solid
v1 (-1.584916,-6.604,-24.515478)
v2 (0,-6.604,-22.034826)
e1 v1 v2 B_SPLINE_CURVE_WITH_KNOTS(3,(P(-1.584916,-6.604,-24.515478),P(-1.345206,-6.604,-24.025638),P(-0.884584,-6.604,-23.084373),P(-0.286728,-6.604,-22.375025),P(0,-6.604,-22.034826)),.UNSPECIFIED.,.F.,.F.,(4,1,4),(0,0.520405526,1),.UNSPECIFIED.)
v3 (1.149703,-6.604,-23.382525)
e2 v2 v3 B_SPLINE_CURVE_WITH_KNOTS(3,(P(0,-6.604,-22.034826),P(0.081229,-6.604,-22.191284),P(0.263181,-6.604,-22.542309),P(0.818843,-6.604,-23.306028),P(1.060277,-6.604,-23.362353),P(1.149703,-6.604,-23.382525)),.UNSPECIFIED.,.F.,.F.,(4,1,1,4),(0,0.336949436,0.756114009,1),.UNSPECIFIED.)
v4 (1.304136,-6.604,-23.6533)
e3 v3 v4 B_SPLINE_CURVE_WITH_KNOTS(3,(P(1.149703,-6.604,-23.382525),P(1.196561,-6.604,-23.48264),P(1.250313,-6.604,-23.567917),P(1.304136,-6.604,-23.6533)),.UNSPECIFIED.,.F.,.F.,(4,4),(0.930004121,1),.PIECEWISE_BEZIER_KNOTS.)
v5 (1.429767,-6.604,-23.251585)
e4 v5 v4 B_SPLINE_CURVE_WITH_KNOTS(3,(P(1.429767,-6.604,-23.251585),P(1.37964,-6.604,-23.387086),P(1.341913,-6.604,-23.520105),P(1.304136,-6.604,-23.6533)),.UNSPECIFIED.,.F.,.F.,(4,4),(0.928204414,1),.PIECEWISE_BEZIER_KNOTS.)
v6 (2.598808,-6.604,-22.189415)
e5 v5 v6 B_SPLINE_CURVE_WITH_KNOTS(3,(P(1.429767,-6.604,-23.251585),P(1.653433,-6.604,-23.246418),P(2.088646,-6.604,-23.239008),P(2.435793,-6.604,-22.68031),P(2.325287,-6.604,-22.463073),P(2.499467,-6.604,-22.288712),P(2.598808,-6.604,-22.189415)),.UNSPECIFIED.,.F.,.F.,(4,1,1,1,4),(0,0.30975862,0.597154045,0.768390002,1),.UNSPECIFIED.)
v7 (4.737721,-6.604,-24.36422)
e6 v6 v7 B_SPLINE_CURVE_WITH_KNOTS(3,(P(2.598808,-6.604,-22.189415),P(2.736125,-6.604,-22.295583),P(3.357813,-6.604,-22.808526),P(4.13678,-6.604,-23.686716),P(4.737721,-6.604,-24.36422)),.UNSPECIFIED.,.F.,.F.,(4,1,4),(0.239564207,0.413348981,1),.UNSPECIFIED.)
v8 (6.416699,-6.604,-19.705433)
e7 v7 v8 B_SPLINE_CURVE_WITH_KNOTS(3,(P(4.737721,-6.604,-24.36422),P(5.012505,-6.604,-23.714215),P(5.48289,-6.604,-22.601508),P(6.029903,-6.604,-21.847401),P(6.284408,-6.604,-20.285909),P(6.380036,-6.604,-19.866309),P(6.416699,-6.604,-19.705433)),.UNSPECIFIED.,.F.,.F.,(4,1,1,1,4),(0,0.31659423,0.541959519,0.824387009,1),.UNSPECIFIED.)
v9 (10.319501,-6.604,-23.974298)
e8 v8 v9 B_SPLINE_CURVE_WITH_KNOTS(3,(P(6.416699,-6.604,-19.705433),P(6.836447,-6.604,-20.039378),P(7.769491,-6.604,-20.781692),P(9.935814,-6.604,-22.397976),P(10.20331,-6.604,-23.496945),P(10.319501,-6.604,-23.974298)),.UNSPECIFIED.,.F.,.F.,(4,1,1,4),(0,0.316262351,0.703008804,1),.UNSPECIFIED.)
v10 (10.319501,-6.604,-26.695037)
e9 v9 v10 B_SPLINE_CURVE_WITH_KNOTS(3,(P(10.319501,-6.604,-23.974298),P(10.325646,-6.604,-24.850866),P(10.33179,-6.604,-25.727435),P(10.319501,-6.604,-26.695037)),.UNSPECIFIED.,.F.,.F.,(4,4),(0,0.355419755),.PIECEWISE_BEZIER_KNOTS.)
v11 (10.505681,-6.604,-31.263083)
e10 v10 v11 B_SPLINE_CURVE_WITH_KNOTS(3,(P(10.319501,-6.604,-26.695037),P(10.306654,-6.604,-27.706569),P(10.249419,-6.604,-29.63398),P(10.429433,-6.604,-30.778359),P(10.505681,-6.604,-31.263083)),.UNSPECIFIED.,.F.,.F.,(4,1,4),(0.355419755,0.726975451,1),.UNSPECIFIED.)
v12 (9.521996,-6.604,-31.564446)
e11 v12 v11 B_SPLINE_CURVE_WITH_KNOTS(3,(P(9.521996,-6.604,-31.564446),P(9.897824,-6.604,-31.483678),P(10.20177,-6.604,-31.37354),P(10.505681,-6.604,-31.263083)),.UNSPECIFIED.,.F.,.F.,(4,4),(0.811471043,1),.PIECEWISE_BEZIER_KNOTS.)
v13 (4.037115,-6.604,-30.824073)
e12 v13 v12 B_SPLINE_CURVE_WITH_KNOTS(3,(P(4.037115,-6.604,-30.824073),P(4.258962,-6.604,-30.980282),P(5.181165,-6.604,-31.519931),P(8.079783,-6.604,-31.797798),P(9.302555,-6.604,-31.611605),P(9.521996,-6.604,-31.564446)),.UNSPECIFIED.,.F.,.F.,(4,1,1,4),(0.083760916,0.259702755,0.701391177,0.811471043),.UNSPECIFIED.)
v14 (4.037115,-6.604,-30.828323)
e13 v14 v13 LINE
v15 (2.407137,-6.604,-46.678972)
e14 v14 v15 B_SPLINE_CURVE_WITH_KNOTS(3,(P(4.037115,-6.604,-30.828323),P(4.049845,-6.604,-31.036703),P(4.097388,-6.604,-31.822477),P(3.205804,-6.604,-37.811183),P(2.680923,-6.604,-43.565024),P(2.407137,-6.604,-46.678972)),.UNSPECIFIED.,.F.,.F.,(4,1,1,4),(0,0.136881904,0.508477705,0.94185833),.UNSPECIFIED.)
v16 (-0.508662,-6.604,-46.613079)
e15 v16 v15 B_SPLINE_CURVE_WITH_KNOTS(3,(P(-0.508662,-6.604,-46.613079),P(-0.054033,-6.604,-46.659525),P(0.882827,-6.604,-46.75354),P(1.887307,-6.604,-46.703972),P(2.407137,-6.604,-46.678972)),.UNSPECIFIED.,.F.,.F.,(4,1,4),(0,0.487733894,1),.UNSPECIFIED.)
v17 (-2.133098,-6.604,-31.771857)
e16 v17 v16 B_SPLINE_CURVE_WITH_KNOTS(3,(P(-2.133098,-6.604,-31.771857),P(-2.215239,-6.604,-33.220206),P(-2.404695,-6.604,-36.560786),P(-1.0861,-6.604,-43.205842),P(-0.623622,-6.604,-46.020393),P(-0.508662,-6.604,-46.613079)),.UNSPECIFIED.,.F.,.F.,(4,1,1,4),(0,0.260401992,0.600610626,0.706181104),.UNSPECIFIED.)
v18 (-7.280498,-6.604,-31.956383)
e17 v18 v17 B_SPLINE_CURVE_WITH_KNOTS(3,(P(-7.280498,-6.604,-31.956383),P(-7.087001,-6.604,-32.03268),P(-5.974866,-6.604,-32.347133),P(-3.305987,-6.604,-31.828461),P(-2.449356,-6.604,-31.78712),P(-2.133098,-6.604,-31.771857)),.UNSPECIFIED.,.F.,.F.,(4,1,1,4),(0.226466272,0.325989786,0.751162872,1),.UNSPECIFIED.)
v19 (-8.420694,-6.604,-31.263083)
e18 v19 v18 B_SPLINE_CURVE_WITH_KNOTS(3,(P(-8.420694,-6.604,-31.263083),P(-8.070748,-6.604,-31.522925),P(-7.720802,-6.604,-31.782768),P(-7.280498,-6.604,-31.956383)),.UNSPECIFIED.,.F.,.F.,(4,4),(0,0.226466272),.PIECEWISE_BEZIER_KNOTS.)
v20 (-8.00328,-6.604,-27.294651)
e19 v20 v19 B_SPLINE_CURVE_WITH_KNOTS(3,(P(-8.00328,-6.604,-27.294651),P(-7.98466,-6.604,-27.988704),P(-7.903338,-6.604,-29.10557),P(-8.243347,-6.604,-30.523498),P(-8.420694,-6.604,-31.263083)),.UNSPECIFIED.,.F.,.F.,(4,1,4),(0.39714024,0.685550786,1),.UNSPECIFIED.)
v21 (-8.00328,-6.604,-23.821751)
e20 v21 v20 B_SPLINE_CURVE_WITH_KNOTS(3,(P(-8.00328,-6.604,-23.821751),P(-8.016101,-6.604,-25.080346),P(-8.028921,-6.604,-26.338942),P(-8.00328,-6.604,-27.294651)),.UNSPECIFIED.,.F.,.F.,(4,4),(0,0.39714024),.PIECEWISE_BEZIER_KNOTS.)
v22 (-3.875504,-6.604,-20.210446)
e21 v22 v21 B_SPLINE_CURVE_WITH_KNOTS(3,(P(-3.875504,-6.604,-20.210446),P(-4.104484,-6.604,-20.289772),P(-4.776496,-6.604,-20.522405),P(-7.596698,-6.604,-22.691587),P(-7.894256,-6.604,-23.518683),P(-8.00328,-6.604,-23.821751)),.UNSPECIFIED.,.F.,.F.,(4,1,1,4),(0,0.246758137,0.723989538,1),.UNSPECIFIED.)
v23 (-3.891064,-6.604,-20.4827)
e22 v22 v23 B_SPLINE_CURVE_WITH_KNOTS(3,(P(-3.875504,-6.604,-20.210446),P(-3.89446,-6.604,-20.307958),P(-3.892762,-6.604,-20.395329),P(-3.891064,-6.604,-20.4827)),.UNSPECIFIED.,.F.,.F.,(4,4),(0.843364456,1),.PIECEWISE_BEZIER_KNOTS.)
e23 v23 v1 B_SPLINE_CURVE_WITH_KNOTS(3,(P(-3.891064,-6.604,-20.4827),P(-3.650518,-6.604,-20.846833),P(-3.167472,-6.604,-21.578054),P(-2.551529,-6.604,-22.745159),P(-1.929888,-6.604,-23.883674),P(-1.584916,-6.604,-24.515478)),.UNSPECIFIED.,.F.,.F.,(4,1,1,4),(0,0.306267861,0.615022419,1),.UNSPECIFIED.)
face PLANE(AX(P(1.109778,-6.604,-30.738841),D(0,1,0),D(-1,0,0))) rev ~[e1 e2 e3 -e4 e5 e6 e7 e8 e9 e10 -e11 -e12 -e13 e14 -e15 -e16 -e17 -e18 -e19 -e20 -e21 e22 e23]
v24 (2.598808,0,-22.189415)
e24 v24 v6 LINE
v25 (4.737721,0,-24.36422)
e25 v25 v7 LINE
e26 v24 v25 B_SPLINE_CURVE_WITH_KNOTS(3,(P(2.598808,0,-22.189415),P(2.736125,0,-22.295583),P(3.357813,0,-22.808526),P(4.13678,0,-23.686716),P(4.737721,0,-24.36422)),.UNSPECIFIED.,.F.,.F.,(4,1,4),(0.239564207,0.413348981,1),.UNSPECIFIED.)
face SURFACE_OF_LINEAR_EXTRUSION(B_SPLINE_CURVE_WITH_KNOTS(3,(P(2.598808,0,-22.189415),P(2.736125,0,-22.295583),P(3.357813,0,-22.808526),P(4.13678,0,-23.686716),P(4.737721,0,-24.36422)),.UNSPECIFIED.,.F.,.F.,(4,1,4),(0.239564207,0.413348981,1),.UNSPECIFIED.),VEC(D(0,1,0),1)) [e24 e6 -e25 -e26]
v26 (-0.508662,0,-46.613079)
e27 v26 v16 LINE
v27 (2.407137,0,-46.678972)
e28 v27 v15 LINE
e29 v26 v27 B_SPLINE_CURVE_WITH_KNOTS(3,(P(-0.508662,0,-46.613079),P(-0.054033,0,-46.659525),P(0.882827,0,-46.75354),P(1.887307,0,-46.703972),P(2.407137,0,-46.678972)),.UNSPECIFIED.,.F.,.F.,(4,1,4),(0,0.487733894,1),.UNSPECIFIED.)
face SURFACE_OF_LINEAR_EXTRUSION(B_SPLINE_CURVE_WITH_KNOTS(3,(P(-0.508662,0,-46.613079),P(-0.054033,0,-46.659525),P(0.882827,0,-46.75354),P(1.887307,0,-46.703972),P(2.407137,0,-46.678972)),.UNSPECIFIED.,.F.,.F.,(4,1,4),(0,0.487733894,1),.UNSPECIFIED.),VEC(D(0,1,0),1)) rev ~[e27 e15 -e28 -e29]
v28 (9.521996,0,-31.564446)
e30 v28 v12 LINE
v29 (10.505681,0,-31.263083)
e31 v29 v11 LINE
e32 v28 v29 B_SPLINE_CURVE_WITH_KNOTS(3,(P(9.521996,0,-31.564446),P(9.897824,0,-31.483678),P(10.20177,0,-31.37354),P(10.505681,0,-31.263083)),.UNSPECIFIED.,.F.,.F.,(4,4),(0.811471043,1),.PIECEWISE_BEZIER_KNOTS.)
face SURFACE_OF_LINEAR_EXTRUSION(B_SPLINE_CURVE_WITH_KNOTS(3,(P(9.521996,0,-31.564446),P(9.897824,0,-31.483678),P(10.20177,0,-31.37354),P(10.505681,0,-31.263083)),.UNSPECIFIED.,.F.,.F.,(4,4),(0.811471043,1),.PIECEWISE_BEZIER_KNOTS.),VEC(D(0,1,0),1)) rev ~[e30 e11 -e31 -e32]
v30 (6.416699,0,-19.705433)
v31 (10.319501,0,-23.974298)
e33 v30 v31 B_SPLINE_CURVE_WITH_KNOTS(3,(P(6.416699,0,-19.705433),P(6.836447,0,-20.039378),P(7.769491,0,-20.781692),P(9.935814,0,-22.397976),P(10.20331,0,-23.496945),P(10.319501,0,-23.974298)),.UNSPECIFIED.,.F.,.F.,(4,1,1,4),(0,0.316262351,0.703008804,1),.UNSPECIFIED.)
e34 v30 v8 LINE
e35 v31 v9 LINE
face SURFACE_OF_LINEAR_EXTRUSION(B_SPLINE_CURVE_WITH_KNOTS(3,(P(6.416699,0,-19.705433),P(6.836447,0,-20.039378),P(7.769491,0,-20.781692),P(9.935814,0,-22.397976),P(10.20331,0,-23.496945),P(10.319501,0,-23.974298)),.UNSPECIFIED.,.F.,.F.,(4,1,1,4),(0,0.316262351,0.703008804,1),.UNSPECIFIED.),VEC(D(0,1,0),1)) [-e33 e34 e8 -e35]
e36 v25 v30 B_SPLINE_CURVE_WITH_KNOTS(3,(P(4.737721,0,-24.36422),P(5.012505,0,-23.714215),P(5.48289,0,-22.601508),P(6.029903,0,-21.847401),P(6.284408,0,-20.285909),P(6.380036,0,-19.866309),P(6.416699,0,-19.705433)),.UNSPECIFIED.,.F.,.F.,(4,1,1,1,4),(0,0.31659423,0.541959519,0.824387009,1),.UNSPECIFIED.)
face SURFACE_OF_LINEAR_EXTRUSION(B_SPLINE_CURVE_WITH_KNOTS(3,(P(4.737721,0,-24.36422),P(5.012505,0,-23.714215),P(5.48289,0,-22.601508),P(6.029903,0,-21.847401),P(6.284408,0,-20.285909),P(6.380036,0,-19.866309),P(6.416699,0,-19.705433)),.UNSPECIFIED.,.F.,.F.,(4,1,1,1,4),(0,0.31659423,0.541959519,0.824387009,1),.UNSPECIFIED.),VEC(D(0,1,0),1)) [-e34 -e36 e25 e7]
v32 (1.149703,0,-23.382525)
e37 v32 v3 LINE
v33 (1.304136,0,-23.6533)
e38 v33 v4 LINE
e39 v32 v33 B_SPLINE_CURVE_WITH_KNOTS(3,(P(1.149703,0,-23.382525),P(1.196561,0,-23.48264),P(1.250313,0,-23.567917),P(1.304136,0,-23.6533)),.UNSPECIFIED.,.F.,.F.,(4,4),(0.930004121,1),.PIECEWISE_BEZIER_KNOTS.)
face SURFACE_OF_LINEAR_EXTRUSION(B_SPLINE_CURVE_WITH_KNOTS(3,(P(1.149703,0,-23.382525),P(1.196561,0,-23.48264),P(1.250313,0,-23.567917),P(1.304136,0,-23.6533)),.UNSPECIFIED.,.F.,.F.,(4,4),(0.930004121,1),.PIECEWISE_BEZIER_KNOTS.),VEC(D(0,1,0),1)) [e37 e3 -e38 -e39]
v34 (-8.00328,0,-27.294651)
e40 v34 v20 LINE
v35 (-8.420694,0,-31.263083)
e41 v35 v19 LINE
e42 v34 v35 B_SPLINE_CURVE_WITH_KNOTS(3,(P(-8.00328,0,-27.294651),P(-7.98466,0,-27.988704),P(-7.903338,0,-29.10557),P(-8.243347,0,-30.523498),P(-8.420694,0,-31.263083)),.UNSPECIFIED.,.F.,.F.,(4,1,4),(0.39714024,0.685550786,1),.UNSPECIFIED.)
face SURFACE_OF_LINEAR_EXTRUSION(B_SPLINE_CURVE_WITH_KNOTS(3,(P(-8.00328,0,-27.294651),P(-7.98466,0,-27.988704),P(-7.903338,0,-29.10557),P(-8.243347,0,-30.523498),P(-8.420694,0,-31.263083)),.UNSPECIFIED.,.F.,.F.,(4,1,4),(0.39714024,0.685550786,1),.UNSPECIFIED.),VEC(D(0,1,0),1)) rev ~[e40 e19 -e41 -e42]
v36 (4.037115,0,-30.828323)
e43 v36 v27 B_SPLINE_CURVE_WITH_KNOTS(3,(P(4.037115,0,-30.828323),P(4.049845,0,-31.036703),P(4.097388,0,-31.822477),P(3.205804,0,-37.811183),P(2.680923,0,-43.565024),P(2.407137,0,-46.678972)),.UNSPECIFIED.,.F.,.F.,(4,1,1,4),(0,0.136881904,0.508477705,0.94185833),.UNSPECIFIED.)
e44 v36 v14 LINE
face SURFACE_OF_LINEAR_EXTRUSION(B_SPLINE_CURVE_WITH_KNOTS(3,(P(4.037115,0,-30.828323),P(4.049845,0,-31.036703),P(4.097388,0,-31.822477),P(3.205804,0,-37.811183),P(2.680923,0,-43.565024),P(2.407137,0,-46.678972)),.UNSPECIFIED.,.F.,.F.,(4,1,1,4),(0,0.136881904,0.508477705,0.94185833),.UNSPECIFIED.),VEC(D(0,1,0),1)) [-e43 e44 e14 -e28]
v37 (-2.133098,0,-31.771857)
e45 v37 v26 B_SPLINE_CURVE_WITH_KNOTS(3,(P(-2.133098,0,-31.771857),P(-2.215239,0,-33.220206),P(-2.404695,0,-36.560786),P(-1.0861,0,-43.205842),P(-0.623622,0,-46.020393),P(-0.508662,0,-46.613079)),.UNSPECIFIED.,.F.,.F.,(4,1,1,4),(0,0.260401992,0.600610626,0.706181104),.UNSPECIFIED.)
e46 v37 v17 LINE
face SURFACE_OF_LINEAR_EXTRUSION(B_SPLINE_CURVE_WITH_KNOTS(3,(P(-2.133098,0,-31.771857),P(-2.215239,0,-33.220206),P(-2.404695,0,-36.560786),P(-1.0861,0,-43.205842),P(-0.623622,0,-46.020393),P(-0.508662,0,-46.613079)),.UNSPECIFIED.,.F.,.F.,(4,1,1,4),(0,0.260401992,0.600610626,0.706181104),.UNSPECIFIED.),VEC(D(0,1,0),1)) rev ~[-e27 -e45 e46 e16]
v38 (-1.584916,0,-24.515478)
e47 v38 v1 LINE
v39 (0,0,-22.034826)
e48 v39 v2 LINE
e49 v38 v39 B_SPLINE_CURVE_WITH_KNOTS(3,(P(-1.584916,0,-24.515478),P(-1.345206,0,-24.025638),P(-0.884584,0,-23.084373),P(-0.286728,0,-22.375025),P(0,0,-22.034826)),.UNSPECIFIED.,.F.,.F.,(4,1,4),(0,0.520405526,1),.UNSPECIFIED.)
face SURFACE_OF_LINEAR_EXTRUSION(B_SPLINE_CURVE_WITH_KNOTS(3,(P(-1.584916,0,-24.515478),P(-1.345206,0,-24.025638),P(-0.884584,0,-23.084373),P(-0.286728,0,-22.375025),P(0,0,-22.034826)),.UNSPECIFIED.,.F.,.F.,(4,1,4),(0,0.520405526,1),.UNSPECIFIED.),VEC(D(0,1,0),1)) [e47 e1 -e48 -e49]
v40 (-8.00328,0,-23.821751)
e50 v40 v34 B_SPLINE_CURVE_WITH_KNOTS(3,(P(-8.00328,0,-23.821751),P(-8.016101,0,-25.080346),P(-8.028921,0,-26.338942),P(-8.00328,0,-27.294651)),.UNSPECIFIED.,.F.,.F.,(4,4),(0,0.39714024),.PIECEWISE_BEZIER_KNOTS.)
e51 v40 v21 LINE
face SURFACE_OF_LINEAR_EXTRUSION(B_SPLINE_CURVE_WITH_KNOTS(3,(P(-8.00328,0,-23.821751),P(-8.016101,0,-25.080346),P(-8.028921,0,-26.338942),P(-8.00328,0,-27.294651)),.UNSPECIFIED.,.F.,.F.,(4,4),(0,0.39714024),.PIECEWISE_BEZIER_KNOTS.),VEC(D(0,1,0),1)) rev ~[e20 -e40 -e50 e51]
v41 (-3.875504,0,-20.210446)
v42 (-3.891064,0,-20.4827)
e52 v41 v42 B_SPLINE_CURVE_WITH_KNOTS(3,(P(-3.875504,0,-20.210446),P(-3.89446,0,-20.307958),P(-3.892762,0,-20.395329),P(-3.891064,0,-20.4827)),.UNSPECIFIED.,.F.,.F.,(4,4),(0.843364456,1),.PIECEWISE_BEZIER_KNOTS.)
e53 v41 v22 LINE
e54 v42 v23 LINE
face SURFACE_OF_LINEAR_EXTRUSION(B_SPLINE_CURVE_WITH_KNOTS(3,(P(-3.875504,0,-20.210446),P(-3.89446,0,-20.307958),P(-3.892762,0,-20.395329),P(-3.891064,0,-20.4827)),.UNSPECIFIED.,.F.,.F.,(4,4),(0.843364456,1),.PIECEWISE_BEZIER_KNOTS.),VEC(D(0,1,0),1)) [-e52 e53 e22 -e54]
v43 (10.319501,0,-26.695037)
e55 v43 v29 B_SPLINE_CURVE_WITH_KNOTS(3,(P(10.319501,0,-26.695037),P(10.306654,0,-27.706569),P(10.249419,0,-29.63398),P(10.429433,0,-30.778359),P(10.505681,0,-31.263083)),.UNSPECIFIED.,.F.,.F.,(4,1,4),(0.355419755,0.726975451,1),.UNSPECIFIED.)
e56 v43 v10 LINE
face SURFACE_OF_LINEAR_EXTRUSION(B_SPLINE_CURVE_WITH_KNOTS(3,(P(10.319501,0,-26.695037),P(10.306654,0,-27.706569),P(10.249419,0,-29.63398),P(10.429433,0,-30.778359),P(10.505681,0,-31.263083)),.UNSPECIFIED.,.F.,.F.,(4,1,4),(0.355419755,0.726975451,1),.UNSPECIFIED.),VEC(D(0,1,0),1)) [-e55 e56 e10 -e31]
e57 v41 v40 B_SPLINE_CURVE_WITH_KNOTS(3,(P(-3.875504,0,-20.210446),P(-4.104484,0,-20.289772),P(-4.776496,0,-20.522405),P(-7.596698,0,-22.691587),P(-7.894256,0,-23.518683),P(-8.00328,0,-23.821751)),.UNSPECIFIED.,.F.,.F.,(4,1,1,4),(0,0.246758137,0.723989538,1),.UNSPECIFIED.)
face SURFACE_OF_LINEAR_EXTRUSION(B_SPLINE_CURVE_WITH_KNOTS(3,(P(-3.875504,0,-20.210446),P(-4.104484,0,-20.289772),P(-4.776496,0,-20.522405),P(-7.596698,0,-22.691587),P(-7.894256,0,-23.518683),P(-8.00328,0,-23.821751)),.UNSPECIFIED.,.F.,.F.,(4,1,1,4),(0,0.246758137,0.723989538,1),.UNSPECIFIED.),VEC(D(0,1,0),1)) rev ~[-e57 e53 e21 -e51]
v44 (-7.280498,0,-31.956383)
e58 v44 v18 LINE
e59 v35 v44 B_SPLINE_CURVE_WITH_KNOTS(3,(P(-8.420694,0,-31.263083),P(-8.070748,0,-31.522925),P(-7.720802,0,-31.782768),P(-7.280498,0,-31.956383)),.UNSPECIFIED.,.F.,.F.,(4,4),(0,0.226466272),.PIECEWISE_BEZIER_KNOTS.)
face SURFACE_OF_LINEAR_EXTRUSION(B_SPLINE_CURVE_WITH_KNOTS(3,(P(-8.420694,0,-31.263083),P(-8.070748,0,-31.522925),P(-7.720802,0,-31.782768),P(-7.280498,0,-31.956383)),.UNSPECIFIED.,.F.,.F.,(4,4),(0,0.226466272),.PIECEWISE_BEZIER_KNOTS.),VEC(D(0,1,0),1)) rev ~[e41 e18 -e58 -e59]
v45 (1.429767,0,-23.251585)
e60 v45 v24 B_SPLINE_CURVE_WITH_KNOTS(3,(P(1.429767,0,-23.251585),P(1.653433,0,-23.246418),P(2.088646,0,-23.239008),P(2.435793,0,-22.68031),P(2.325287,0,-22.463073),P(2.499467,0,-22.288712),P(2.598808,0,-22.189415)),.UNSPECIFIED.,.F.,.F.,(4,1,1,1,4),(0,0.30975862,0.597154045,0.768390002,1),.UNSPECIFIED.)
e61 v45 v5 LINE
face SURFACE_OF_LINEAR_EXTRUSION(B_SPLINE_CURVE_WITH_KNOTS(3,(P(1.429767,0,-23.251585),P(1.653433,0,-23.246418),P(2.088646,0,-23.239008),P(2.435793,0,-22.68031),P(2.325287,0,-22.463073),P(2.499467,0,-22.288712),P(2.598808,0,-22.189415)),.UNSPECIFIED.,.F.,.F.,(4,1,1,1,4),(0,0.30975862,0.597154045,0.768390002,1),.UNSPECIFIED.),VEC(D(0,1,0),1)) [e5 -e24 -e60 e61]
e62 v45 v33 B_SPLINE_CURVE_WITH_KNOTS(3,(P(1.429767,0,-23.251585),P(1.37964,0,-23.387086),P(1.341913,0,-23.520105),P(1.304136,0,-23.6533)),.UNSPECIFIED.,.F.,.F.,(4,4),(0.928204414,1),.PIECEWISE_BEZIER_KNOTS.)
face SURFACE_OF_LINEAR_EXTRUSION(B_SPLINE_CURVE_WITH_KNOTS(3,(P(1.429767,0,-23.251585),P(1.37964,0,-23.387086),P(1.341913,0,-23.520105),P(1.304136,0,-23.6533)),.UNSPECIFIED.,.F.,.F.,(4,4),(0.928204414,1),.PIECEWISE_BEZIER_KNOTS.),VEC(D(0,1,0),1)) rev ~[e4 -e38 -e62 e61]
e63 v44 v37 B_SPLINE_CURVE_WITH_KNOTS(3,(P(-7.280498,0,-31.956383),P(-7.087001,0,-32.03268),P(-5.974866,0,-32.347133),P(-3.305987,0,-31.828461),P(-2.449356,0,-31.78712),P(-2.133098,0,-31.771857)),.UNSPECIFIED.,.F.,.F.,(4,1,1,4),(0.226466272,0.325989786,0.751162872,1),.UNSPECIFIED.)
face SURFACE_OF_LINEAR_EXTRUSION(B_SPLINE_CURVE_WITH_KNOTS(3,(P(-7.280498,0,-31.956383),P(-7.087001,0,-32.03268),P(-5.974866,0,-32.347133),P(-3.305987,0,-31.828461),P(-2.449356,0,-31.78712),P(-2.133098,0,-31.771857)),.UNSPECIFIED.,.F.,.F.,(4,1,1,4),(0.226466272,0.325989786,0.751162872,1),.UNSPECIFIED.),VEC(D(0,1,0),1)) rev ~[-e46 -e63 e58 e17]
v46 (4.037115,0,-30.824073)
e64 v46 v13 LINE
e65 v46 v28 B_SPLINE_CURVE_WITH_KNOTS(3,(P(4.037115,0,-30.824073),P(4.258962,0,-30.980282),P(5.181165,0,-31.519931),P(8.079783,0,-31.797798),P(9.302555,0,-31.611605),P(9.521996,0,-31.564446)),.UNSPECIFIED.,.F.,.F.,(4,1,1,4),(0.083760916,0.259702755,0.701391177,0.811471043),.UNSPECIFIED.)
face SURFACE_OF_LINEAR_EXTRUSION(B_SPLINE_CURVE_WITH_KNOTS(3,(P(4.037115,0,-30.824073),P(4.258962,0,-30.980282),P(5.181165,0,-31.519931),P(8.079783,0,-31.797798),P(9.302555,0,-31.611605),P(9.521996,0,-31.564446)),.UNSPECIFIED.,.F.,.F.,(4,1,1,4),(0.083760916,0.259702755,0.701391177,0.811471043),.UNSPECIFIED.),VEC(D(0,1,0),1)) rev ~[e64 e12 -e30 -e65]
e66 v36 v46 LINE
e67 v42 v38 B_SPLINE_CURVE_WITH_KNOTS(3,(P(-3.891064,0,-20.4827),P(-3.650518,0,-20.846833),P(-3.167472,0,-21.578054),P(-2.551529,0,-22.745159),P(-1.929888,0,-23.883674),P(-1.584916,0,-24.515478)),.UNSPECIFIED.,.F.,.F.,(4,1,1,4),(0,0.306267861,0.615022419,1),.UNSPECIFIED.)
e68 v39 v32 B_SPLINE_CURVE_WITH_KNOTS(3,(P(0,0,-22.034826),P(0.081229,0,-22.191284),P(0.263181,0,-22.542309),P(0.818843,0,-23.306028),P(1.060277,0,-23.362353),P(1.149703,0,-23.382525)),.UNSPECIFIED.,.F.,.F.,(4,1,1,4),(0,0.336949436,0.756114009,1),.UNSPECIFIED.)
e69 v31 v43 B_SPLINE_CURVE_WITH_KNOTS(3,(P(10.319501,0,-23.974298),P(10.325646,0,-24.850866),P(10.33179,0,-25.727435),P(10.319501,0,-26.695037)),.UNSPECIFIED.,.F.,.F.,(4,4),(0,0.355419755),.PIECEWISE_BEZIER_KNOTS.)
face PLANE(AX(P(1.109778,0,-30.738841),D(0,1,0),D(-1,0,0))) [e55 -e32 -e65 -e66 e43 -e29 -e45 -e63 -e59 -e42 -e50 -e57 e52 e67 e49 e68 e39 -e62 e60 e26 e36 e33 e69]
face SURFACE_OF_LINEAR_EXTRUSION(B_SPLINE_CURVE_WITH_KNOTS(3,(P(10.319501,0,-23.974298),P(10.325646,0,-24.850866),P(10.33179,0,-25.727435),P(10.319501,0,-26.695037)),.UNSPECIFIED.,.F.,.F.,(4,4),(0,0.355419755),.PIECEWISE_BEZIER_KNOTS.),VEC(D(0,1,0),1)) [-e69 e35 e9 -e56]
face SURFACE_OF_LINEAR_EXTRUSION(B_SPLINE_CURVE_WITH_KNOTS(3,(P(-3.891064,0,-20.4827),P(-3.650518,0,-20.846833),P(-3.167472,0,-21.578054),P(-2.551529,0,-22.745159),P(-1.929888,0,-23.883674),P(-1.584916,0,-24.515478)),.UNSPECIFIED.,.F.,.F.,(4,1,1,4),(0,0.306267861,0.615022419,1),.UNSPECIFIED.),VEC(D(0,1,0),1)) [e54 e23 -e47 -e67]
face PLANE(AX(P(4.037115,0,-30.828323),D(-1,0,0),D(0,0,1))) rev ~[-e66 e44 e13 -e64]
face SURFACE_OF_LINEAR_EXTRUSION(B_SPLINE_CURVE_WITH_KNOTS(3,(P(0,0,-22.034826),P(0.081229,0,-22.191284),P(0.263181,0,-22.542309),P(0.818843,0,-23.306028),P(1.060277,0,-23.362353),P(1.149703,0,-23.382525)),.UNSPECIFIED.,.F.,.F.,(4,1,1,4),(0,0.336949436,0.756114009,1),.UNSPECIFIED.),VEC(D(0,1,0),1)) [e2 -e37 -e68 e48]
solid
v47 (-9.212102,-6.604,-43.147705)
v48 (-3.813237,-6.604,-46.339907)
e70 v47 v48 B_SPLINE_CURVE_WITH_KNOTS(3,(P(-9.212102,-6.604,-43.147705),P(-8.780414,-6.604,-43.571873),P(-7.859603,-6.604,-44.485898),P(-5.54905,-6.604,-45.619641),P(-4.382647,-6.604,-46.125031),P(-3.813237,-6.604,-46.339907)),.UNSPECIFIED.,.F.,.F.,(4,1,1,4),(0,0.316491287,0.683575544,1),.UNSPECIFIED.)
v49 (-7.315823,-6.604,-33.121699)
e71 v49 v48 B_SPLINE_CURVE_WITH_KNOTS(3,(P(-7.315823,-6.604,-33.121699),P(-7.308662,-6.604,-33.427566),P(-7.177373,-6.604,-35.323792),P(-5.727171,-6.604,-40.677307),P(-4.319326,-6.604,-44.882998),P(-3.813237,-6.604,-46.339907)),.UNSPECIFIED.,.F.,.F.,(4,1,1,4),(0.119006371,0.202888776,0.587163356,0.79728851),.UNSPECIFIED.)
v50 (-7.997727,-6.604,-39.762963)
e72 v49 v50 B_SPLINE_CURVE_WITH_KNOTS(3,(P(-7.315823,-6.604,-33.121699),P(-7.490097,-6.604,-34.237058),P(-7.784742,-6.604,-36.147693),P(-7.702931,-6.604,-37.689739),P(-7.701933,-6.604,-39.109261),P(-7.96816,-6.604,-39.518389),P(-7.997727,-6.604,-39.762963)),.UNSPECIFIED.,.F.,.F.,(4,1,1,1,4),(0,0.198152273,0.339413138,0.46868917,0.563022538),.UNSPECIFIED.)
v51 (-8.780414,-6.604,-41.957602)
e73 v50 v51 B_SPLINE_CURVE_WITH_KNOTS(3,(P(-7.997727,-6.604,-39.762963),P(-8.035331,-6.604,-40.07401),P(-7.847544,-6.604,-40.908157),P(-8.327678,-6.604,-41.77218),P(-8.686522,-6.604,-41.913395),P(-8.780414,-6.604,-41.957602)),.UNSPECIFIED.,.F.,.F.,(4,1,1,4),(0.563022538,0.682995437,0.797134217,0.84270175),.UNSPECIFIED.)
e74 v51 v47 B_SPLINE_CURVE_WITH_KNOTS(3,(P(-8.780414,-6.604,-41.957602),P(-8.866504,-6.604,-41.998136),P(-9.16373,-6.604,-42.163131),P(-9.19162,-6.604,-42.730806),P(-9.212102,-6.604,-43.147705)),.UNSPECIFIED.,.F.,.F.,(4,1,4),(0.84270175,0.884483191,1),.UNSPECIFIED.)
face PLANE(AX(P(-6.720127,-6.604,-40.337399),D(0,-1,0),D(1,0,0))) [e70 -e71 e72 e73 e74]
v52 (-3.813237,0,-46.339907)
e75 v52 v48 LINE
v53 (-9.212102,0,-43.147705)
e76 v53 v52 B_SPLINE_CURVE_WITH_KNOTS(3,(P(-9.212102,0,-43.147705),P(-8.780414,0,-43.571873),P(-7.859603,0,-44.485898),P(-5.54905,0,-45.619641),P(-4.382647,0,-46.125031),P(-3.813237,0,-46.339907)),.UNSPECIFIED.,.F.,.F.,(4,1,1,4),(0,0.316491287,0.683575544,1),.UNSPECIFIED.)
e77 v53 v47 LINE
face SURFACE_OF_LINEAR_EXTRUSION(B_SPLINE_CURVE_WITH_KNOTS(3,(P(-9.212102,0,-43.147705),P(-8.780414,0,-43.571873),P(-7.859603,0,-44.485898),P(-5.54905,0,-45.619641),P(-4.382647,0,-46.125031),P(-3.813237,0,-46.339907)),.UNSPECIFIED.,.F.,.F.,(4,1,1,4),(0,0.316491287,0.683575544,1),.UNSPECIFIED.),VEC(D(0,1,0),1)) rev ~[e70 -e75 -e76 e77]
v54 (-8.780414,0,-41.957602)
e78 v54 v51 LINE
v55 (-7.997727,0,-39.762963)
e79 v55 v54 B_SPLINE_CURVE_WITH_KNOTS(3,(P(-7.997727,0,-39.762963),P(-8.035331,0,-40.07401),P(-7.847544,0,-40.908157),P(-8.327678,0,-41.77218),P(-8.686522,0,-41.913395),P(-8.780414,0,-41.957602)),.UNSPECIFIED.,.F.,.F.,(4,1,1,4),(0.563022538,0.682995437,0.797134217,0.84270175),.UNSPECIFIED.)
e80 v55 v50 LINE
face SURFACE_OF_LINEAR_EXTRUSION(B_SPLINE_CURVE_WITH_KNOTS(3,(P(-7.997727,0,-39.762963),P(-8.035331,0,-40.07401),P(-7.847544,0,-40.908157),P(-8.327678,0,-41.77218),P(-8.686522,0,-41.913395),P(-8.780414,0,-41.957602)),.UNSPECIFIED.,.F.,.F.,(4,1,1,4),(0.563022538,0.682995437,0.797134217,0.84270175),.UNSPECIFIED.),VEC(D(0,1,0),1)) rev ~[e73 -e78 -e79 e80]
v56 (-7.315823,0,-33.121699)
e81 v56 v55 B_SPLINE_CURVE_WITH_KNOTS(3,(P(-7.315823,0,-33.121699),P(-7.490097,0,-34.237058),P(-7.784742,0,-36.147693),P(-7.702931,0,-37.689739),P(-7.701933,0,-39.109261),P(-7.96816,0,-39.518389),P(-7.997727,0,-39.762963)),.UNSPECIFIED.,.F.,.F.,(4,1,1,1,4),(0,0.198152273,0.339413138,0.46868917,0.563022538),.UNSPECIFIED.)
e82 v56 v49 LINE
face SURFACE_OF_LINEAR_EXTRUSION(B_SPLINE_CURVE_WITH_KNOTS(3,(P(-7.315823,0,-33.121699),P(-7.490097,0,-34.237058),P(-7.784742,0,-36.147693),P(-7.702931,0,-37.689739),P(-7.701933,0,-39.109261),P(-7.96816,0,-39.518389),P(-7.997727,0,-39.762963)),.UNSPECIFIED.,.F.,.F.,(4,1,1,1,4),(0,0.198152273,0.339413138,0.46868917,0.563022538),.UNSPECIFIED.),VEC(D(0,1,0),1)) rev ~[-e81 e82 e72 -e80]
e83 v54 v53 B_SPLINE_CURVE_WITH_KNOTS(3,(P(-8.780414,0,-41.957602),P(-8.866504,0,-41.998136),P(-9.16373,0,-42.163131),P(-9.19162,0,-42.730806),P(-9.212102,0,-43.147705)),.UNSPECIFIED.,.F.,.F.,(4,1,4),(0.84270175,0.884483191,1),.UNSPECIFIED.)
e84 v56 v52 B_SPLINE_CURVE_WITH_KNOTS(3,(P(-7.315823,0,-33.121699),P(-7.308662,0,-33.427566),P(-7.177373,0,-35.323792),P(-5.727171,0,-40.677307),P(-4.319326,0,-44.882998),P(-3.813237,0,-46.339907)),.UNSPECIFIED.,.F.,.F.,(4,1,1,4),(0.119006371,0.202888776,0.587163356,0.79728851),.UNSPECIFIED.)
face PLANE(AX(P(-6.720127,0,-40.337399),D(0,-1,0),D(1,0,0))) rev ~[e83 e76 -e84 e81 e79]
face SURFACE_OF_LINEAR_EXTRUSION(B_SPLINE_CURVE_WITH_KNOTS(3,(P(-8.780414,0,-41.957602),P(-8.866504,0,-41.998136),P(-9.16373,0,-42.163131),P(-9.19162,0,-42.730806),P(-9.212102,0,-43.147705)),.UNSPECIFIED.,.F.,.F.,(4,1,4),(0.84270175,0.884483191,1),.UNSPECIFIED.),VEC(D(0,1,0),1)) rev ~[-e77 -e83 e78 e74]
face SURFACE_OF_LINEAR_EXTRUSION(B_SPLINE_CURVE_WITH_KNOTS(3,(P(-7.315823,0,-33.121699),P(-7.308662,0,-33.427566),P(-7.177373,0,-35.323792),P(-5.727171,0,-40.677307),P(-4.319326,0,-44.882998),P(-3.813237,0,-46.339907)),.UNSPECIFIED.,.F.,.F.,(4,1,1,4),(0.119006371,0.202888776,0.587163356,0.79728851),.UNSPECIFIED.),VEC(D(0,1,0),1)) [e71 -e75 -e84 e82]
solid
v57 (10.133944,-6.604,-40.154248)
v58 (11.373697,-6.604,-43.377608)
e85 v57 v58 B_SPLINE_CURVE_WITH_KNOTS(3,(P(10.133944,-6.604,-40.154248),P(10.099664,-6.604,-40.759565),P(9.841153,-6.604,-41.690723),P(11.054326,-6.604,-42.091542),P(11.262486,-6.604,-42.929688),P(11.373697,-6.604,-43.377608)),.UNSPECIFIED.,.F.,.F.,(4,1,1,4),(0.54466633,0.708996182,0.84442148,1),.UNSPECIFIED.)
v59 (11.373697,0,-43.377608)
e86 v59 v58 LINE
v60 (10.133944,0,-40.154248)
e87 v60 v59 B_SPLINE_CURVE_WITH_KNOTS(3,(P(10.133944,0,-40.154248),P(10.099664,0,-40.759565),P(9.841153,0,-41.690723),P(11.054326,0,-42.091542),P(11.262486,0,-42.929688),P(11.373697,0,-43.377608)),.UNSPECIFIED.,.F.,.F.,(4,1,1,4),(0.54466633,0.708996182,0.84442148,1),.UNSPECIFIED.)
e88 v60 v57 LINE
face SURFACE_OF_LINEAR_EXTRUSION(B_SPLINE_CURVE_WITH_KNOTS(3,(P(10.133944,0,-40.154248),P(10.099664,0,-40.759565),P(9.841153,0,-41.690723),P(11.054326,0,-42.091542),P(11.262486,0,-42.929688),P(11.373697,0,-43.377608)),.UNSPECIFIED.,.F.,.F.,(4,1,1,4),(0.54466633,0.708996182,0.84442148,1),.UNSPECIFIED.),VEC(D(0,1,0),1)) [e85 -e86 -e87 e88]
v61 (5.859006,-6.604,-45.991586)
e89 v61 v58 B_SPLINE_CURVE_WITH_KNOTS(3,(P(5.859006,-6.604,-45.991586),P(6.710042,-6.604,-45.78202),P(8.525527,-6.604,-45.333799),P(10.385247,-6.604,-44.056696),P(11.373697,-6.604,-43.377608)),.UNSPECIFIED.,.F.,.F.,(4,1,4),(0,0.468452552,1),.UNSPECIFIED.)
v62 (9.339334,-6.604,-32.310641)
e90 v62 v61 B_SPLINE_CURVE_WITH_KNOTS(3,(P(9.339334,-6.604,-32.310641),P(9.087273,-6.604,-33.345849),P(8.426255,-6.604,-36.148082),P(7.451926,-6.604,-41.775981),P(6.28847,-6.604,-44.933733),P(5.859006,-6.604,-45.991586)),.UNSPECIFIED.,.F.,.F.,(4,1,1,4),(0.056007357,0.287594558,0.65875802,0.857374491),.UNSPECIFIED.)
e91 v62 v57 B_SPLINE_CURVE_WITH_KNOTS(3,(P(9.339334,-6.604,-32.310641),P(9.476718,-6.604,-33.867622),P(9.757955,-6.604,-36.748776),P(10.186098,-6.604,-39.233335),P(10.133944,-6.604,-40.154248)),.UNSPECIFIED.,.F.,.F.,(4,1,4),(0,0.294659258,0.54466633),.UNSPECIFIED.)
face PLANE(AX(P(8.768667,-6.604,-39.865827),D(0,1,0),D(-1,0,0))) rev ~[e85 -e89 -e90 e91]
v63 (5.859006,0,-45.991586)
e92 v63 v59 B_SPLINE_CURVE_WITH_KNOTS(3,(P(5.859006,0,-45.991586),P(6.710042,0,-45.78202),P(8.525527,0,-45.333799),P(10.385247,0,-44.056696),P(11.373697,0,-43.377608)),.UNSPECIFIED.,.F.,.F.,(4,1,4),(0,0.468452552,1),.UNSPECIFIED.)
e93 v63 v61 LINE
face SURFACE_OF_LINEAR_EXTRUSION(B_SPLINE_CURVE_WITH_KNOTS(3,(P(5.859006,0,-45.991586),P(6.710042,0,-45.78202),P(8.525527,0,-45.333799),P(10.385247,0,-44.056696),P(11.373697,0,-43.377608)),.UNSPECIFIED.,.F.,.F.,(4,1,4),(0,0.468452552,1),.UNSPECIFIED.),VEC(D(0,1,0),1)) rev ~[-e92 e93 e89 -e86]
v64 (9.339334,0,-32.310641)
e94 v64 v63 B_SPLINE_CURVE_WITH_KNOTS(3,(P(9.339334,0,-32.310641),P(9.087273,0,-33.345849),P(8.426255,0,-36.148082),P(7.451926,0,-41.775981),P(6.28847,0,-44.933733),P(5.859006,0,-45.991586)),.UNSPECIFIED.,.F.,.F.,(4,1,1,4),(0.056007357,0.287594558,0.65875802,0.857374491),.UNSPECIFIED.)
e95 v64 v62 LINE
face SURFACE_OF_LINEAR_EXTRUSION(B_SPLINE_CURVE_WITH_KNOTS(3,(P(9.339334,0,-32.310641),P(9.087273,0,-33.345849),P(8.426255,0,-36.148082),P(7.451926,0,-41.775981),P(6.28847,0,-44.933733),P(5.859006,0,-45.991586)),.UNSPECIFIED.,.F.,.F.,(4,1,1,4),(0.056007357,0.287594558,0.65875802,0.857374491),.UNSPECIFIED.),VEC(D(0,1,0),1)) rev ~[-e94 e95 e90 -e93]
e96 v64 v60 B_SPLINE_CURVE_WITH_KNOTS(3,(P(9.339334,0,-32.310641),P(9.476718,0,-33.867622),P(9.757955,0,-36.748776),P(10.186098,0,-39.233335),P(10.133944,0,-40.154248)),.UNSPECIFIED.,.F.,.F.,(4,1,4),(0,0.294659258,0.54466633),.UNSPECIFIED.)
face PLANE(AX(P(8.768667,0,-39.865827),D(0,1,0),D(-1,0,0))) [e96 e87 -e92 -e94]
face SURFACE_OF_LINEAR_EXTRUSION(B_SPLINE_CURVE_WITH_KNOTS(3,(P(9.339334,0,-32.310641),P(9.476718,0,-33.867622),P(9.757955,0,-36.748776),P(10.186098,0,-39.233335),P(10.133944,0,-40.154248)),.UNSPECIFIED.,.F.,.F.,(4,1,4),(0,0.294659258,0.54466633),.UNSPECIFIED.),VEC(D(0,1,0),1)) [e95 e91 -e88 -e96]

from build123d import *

# Parameters (mm, degrees)
F1_DEPTH = 6.604


with BuildPart() as f1:
    # F0 (on Front) → F1 (new body)
    with BuildSketch(Plane.XZ):
        with BuildLine():
            add(Edge.make_bspline(
                [(1.1497032875, -23.3825250299), (1.196561232, -23.482640341), (1.2503133009, -23.5679166675), (1.3041357743, -23.6533004791)],
                knots=[0.9300041209, 0.9300041209, 0.9300041209, 0.9300041209, 1, 1, 1, 1], degree=3))
            add(Edge.make_bspline(
                [(0, -22.0348257571), (0.0812285979, -22.1912839001), (0.2631810605, -22.5423085387), (0.8188425061, -23.3060281912), (1.0602767296, -23.3623532218), (1.1497032875, -23.3825250299)],
                knots=[0, 0, 0, 0, 0.3369494365, 0.7561140095, 1, 1, 1, 1], degree=3))
            add(Edge.make_bspline(
                [(-1.5849161427, -24.5154779404), (-1.345206038, -24.0256383181), (-0.884584287, -23.0843730979), (-0.2867283861, -22.3750251249), (0, -22.0348257571)],
                knots=[0, 0, 0, 0, 0.5204055264, 1, 1, 1, 1], degree=3))
            add(Edge.make_bspline(
                [(-3.8910638541, -20.4827003181), (-3.6505175345, -20.8468328503), (-3.1674718148, -21.5780544355), (-2.5515288628, -22.7451588248), (-1.9298877508, -23.8836738897), (-1.5849161427, -24.5154779404)],
                knots=[0, 0, 0, 0, 0.3062678611, 0.6150224191, 1, 1, 1, 1], degree=3))
            add(Edge.make_bspline(
                [(-3.8755044345, -20.2104461632), (-3.8944603794, -20.30795767), (-3.8927621167, -20.3953289941), (-3.8910638541, -20.4827003181)],
                knots=[0.8433644561, 0.8433644561, 0.8433644561, 0.8433644561, 1, 1, 1, 1], degree=3))
            add(Edge.make_bspline(
                [(-3.8755044345, -20.2104461632), (-4.1044836782, -20.2897716629), (-4.7764963733, -20.5224047591), (-7.5966979576, -22.691586935), (-7.8942564645, -23.5186829688), (-8.0032804981, -23.8217506558)],
                knots=[0, 0, 0, 0, 0.2467581374, 0.7239895384, 1, 1, 1, 1], degree=3))
            add(Edge.make_bspline(
                [(-8.0032804981, -23.8217506558), (-8.0161008013, -25.0803462224), (-8.0289211045, -26.3389417891), (-8.0032804981, -27.2946506739)],
                knots=[0, 0, 0, 0, 0.3971402404, 0.3971402404, 0.3971402404, 0.3971402404], degree=3))
            add(Edge.make_bspline(
                [(-8.0032804981, -27.2946506739), (-7.9846598182, -27.9887040412), (-7.9033379715, -29.1055696173), (-8.2433465749, -30.5234976757), (-8.4206936881, -31.2630832195)],
                knots=[0.3971402404, 0.3971402404, 0.3971402404, 0.3971402404, 0.6855507862, 1, 1, 1, 1], degree=3))
            add(Edge.make_bspline(
                [(-8.4206936881, -31.2630832195), (-8.0707479073, -31.5229253729), (-7.7208021265, -31.7827675263), (-7.280498254, -31.9563828779)],
                knots=[0, 0, 0, 0, 0.2264662718, 0.2264662718, 0.2264662718, 0.2264662718], degree=3))
            add(Edge.make_bspline(
                [(-7.280498254, -31.9563828779), (-7.087001058, -32.0326803756), (-5.9748657581, -32.3471325273), (-3.3059866082, -31.8284608794), (-2.4493561435, -31.7871199179), (-2.1330976353, -31.7718572915)],
                knots=[0.2264662718, 0.2264662718, 0.2264662718, 0.2264662718, 0.3259897858, 0.7511628717, 1, 1, 1, 1], degree=3))
            add(Edge.make_bspline(
                [(-2.1330976353, -31.7718572915), (-2.2152386976, -33.2202060273), (-2.404694986, -36.5607858579), (-1.086099516, -43.2058424148), (-0.6236220742, -46.0203927281), (-0.5086617392, -46.6130788646)],
                knots=[0, 0, 0, 0, 0.2604019918, 0.6006106265, 0.706181104, 0.706181104, 0.706181104, 0.706181104], degree=3))
            add(Edge.make_bspline(
                [(-0.5086617392, -46.6130788646), (-0.054032576, -46.6595245839), (0.8828265858, -46.7535402431), (1.8873066503, -46.7039721098), (2.4071369795, -46.6789720867)],
                knots=[0, 0, 0, 0, 0.4877338937, 1, 1, 1, 1], degree=3))
            add(Edge.make_bspline(
                [(4.0371152572, -30.8283232152), (4.0498449975, -31.0367026744), (4.0973883752, -31.822476947), (3.2058039921, -37.8111831479), (2.6809233611, -43.5650242157), (2.4071369795, -46.6789720867)],
                knots=[0, 0, 0, 0, 0.1368819039, 0.5084777049, 0.9418583296, 0.9418583296, 0.9418583296, 0.9418583296], degree=3))
            Line((4.0371152572, -30.8283232152), (4.0371152572, -30.8240728969))
            add(Edge.make_bspline(
                [(4.0371152572, -30.8240728969), (4.2589618279, -30.9802818339), (5.1811653861, -31.5199314213), (8.0797833825, -31.7977979949), (9.3025548706, -31.6116050516), (9.5219962154, -31.5644456762)],
                knots=[0.0837609161, 0.0837609161, 0.0837609161, 0.0837609161, 0.2597027552, 0.7013911773, 0.8114710435, 0.8114710435, 0.8114710435, 0.8114710435], degree=3))
            add(Edge.make_bspline(
                [(9.5219962154, -31.5644456762), (9.8978237774, -31.4836778834), (10.2017699607, -31.3735395299), (10.5056809261, -31.2630832195)],
                knots=[0.8114710435, 0.8114710435, 0.8114710435, 0.8114710435, 1, 1, 1, 1], degree=3))
            add(Edge.make_bspline(
                [(10.3195011616, -26.6950372607), (10.3066542553, -27.7065685869), (10.2494190203, -29.633979984), (10.4294326417, -30.7783590992), (10.5056809261, -31.2630832195)],
                knots=[0.3554197548, 0.3554197548, 0.3554197548, 0.3554197548, 0.7269754506, 1, 1, 1, 1], degree=3))
            add(Edge.make_bspline(
                [(10.3195011616, -23.9742975682), (10.3256456566, -24.85086617), (10.3317901517, -25.7274347717), (10.3195011616, -26.6950372607)],
                knots=[0, 0, 0, 0, 0.3554197548, 0.3554197548, 0.3554197548, 0.3554197548], degree=3))
            add(Edge.make_bspline(
                [(6.4166993834, -19.7054333985), (6.8364474582, -20.0393778353), (7.7694911507, -20.7816915448), (9.935813667, -22.397975898), (10.2033102199, -23.4969447699), (10.3195011616, -23.9742975682)],
                knots=[0, 0, 0, 0, 0.3162623511, 0.7030088036, 1, 1, 1, 1], degree=3))
            add(Edge.make_bspline(
                [(4.7377212904, -24.3642199785), (5.0125045057, -23.7142148821), (5.4828901449, -22.6015084073), (6.0299034698, -21.8474010812), (6.2844083992, -20.2859091691), (6.3800357867, -19.8663085307), (6.4166993834, -19.7054333985)],
                knots=[0, 0, 0, 0, 0.3165942296, 0.5419595187, 0.8243870093, 1, 1, 1, 1], degree=3))
            add(Edge.make_bspline(
                [(2.5988076228, -22.189414897), (2.7361246365, -22.295582924), (3.3578125101, -22.8085256738), (4.1367803168, -23.6867158312), (4.7377212904, -24.3642199785)],
                knots=[0.2395642068, 0.2395642068, 0.2395642068, 0.2395642068, 0.4133489808, 1, 1, 1, 1], degree=3))
            add(Edge.make_bspline(
                [(1.4297665819, -23.2515854994), (1.6534331143, -23.2464180484), (2.088646245, -23.2390077858), (2.4357932634, -22.6803101913), (2.3252870905, -22.463073339), (2.4994670561, -22.2887120699), (2.5988076228, -22.189414897)],
                knots=[0, 0, 0, 0, 0.3097586197, 0.5971540451, 0.7683900023, 1, 1, 1, 1], degree=3))
            add(Edge.make_bspline(
                [(1.4297665819, -23.2515854994), (1.3796401747, -23.3870862304), (1.3419128982, -23.5201049192), (1.3041357743, -23.6533004791)],
                knots=[0.9282044138, 0.9282044138, 0.9282044138, 0.9282044138, 1, 1, 1, 1], degree=3))
        make_face()
    extrude(amount=F1_DEPTH)


with BuildPart() as f1b:
    # F0 (on Front) → F1, piece 2 (new body)
    with BuildSketch(Plane.XZ):
        with BuildLine():
            add(Edge.make_bspline(
                [(10.1339444518, -40.154248476), (10.0996639819, -40.7595654129), (9.8411530369, -41.6907227375), (11.0543259011, -42.0915419673), (11.2624864317, -42.9296879458), (11.3736968488, -43.3776080608)],
                knots=[0.5446663302, 0.5446663302, 0.5446663302, 0.5446663302, 0.7089961818, 0.8444214804, 1, 1, 1, 1], degree=3))
            add(Edge.make_bspline(
                [(9.3393335359, -32.3106409743), (9.4767181896, -33.8676215858), (9.7579545685, -36.7487762852), (10.1860978484, -39.2333353621), (10.1339444518, -40.154248476)],
                knots=[0, 0, 0, 0, 0.2946592576, 0.5446663302, 0.5446663302, 0.5446663302, 0.5446663302], degree=3))
            add(Edge.make_bspline(
                [(9.3393335359, -32.3106409743), (9.0872733652, -33.3458491846), (8.4262549778, -36.1480824729), (7.451926237, -41.7759811318), (6.288470048, -44.9337334805), (5.8590061813, -45.9915856041)],
                knots=[0.0560073572, 0.0560073572, 0.0560073572, 0.0560073572, 0.2875945583, 0.6587580201, 0.8573744911, 0.8573744911, 0.8573744911, 0.8573744911], degree=3))
            add(Edge.make_bspline(
                [(5.8590061813, -45.9915856041), (6.7100418746, -45.7820195896), (8.5255268002, -45.3337985815), (10.3852467136, -44.0566964405), (11.3736968488, -43.3776080608)],
                knots=[0, 0, 0, 0, 0.4684525518, 1, 1, 1, 1], degree=3))
        make_face()
    extrude(amount=F1_DEPTH)


with BuildPart() as f1c:
    # F0 (on Front) → F1, piece 3 (new body)
    with BuildSketch(Plane.XZ):
        with BuildLine():
            add(Edge.make_bspline(
                [(-7.9977270216, -39.7629626095), (-8.0353307006, -40.0740104755), (-7.8475440667, -40.9081566011), (-8.3276784339, -41.7721797654), (-8.6865222436, -41.9133952547), (-8.7804137356, -41.9576022874)],
                knots=[0.5630225378, 0.5630225378, 0.5630225378, 0.5630225378, 0.6829954373, 0.7971342168, 0.8427017499, 0.8427017499, 0.8427017499, 0.8427017499], degree=3))
            add(Edge.make_bspline(
                [(-8.7804137356, -41.9576022874), (-8.8665040184, -41.9981362684), (-9.1637303886, -42.1631307164), (-9.1916198941, -42.7308055441), (-9.2121018097, -43.1477054954)],
                knots=[0.8427017499, 0.8427017499, 0.8427017499, 0.8427017499, 0.8844831907, 1, 1, 1, 1], degree=3))
            add(Edge.make_bspline(
                [(-9.2121018097, -43.1477054954), (-8.7804137356, -43.5718730282), (-7.8596034967, -44.4858982699), (-5.5490503509, -45.6196405109), (-4.3826465365, -46.1250309413), (-3.8132368899, -46.3399066668)],
                knots=[0, 0, 0, 0, 0.3164912874, 0.6835755444, 1, 1, 1, 1], degree=3))
            add(Edge.make_bspline(
                [(-7.3158233845, -33.1216985999), (-7.3086622948, -33.427565943), (-7.1773727045, -35.3237923438), (-5.7271713877, -40.6773066803), (-4.3193262788, -44.8829977144), (-3.8132368899, -46.3399066668)],
                knots=[0.1190063712, 0.1190063712, 0.1190063712, 0.1190063712, 0.2028887758, 0.5871633563, 0.7972885103, 0.7972885103, 0.7972885103, 0.7972885103], degree=3))
            add(Edge.make_bspline(
                [(-7.3158233845, -33.1216985999), (-7.4900971647, -34.2370580513), (-7.7847418523, -36.1476930372), (-7.7029307491, -37.6897389964), (-7.7019333382, -39.1092609266), (-7.9681596635, -39.5183891031), (-7.9977270216, -39.7629626095)],
                knots=[0, 0, 0, 0, 0.1981522726, 0.3394131379, 0.4686891701, 0.5630225378, 0.5630225378, 0.5630225378, 0.5630225378], degree=3))
        make_face()
    extrude(amount=F1_DEPTH)


solid = Compound([f1.part, f1b.part, f1c.part])
